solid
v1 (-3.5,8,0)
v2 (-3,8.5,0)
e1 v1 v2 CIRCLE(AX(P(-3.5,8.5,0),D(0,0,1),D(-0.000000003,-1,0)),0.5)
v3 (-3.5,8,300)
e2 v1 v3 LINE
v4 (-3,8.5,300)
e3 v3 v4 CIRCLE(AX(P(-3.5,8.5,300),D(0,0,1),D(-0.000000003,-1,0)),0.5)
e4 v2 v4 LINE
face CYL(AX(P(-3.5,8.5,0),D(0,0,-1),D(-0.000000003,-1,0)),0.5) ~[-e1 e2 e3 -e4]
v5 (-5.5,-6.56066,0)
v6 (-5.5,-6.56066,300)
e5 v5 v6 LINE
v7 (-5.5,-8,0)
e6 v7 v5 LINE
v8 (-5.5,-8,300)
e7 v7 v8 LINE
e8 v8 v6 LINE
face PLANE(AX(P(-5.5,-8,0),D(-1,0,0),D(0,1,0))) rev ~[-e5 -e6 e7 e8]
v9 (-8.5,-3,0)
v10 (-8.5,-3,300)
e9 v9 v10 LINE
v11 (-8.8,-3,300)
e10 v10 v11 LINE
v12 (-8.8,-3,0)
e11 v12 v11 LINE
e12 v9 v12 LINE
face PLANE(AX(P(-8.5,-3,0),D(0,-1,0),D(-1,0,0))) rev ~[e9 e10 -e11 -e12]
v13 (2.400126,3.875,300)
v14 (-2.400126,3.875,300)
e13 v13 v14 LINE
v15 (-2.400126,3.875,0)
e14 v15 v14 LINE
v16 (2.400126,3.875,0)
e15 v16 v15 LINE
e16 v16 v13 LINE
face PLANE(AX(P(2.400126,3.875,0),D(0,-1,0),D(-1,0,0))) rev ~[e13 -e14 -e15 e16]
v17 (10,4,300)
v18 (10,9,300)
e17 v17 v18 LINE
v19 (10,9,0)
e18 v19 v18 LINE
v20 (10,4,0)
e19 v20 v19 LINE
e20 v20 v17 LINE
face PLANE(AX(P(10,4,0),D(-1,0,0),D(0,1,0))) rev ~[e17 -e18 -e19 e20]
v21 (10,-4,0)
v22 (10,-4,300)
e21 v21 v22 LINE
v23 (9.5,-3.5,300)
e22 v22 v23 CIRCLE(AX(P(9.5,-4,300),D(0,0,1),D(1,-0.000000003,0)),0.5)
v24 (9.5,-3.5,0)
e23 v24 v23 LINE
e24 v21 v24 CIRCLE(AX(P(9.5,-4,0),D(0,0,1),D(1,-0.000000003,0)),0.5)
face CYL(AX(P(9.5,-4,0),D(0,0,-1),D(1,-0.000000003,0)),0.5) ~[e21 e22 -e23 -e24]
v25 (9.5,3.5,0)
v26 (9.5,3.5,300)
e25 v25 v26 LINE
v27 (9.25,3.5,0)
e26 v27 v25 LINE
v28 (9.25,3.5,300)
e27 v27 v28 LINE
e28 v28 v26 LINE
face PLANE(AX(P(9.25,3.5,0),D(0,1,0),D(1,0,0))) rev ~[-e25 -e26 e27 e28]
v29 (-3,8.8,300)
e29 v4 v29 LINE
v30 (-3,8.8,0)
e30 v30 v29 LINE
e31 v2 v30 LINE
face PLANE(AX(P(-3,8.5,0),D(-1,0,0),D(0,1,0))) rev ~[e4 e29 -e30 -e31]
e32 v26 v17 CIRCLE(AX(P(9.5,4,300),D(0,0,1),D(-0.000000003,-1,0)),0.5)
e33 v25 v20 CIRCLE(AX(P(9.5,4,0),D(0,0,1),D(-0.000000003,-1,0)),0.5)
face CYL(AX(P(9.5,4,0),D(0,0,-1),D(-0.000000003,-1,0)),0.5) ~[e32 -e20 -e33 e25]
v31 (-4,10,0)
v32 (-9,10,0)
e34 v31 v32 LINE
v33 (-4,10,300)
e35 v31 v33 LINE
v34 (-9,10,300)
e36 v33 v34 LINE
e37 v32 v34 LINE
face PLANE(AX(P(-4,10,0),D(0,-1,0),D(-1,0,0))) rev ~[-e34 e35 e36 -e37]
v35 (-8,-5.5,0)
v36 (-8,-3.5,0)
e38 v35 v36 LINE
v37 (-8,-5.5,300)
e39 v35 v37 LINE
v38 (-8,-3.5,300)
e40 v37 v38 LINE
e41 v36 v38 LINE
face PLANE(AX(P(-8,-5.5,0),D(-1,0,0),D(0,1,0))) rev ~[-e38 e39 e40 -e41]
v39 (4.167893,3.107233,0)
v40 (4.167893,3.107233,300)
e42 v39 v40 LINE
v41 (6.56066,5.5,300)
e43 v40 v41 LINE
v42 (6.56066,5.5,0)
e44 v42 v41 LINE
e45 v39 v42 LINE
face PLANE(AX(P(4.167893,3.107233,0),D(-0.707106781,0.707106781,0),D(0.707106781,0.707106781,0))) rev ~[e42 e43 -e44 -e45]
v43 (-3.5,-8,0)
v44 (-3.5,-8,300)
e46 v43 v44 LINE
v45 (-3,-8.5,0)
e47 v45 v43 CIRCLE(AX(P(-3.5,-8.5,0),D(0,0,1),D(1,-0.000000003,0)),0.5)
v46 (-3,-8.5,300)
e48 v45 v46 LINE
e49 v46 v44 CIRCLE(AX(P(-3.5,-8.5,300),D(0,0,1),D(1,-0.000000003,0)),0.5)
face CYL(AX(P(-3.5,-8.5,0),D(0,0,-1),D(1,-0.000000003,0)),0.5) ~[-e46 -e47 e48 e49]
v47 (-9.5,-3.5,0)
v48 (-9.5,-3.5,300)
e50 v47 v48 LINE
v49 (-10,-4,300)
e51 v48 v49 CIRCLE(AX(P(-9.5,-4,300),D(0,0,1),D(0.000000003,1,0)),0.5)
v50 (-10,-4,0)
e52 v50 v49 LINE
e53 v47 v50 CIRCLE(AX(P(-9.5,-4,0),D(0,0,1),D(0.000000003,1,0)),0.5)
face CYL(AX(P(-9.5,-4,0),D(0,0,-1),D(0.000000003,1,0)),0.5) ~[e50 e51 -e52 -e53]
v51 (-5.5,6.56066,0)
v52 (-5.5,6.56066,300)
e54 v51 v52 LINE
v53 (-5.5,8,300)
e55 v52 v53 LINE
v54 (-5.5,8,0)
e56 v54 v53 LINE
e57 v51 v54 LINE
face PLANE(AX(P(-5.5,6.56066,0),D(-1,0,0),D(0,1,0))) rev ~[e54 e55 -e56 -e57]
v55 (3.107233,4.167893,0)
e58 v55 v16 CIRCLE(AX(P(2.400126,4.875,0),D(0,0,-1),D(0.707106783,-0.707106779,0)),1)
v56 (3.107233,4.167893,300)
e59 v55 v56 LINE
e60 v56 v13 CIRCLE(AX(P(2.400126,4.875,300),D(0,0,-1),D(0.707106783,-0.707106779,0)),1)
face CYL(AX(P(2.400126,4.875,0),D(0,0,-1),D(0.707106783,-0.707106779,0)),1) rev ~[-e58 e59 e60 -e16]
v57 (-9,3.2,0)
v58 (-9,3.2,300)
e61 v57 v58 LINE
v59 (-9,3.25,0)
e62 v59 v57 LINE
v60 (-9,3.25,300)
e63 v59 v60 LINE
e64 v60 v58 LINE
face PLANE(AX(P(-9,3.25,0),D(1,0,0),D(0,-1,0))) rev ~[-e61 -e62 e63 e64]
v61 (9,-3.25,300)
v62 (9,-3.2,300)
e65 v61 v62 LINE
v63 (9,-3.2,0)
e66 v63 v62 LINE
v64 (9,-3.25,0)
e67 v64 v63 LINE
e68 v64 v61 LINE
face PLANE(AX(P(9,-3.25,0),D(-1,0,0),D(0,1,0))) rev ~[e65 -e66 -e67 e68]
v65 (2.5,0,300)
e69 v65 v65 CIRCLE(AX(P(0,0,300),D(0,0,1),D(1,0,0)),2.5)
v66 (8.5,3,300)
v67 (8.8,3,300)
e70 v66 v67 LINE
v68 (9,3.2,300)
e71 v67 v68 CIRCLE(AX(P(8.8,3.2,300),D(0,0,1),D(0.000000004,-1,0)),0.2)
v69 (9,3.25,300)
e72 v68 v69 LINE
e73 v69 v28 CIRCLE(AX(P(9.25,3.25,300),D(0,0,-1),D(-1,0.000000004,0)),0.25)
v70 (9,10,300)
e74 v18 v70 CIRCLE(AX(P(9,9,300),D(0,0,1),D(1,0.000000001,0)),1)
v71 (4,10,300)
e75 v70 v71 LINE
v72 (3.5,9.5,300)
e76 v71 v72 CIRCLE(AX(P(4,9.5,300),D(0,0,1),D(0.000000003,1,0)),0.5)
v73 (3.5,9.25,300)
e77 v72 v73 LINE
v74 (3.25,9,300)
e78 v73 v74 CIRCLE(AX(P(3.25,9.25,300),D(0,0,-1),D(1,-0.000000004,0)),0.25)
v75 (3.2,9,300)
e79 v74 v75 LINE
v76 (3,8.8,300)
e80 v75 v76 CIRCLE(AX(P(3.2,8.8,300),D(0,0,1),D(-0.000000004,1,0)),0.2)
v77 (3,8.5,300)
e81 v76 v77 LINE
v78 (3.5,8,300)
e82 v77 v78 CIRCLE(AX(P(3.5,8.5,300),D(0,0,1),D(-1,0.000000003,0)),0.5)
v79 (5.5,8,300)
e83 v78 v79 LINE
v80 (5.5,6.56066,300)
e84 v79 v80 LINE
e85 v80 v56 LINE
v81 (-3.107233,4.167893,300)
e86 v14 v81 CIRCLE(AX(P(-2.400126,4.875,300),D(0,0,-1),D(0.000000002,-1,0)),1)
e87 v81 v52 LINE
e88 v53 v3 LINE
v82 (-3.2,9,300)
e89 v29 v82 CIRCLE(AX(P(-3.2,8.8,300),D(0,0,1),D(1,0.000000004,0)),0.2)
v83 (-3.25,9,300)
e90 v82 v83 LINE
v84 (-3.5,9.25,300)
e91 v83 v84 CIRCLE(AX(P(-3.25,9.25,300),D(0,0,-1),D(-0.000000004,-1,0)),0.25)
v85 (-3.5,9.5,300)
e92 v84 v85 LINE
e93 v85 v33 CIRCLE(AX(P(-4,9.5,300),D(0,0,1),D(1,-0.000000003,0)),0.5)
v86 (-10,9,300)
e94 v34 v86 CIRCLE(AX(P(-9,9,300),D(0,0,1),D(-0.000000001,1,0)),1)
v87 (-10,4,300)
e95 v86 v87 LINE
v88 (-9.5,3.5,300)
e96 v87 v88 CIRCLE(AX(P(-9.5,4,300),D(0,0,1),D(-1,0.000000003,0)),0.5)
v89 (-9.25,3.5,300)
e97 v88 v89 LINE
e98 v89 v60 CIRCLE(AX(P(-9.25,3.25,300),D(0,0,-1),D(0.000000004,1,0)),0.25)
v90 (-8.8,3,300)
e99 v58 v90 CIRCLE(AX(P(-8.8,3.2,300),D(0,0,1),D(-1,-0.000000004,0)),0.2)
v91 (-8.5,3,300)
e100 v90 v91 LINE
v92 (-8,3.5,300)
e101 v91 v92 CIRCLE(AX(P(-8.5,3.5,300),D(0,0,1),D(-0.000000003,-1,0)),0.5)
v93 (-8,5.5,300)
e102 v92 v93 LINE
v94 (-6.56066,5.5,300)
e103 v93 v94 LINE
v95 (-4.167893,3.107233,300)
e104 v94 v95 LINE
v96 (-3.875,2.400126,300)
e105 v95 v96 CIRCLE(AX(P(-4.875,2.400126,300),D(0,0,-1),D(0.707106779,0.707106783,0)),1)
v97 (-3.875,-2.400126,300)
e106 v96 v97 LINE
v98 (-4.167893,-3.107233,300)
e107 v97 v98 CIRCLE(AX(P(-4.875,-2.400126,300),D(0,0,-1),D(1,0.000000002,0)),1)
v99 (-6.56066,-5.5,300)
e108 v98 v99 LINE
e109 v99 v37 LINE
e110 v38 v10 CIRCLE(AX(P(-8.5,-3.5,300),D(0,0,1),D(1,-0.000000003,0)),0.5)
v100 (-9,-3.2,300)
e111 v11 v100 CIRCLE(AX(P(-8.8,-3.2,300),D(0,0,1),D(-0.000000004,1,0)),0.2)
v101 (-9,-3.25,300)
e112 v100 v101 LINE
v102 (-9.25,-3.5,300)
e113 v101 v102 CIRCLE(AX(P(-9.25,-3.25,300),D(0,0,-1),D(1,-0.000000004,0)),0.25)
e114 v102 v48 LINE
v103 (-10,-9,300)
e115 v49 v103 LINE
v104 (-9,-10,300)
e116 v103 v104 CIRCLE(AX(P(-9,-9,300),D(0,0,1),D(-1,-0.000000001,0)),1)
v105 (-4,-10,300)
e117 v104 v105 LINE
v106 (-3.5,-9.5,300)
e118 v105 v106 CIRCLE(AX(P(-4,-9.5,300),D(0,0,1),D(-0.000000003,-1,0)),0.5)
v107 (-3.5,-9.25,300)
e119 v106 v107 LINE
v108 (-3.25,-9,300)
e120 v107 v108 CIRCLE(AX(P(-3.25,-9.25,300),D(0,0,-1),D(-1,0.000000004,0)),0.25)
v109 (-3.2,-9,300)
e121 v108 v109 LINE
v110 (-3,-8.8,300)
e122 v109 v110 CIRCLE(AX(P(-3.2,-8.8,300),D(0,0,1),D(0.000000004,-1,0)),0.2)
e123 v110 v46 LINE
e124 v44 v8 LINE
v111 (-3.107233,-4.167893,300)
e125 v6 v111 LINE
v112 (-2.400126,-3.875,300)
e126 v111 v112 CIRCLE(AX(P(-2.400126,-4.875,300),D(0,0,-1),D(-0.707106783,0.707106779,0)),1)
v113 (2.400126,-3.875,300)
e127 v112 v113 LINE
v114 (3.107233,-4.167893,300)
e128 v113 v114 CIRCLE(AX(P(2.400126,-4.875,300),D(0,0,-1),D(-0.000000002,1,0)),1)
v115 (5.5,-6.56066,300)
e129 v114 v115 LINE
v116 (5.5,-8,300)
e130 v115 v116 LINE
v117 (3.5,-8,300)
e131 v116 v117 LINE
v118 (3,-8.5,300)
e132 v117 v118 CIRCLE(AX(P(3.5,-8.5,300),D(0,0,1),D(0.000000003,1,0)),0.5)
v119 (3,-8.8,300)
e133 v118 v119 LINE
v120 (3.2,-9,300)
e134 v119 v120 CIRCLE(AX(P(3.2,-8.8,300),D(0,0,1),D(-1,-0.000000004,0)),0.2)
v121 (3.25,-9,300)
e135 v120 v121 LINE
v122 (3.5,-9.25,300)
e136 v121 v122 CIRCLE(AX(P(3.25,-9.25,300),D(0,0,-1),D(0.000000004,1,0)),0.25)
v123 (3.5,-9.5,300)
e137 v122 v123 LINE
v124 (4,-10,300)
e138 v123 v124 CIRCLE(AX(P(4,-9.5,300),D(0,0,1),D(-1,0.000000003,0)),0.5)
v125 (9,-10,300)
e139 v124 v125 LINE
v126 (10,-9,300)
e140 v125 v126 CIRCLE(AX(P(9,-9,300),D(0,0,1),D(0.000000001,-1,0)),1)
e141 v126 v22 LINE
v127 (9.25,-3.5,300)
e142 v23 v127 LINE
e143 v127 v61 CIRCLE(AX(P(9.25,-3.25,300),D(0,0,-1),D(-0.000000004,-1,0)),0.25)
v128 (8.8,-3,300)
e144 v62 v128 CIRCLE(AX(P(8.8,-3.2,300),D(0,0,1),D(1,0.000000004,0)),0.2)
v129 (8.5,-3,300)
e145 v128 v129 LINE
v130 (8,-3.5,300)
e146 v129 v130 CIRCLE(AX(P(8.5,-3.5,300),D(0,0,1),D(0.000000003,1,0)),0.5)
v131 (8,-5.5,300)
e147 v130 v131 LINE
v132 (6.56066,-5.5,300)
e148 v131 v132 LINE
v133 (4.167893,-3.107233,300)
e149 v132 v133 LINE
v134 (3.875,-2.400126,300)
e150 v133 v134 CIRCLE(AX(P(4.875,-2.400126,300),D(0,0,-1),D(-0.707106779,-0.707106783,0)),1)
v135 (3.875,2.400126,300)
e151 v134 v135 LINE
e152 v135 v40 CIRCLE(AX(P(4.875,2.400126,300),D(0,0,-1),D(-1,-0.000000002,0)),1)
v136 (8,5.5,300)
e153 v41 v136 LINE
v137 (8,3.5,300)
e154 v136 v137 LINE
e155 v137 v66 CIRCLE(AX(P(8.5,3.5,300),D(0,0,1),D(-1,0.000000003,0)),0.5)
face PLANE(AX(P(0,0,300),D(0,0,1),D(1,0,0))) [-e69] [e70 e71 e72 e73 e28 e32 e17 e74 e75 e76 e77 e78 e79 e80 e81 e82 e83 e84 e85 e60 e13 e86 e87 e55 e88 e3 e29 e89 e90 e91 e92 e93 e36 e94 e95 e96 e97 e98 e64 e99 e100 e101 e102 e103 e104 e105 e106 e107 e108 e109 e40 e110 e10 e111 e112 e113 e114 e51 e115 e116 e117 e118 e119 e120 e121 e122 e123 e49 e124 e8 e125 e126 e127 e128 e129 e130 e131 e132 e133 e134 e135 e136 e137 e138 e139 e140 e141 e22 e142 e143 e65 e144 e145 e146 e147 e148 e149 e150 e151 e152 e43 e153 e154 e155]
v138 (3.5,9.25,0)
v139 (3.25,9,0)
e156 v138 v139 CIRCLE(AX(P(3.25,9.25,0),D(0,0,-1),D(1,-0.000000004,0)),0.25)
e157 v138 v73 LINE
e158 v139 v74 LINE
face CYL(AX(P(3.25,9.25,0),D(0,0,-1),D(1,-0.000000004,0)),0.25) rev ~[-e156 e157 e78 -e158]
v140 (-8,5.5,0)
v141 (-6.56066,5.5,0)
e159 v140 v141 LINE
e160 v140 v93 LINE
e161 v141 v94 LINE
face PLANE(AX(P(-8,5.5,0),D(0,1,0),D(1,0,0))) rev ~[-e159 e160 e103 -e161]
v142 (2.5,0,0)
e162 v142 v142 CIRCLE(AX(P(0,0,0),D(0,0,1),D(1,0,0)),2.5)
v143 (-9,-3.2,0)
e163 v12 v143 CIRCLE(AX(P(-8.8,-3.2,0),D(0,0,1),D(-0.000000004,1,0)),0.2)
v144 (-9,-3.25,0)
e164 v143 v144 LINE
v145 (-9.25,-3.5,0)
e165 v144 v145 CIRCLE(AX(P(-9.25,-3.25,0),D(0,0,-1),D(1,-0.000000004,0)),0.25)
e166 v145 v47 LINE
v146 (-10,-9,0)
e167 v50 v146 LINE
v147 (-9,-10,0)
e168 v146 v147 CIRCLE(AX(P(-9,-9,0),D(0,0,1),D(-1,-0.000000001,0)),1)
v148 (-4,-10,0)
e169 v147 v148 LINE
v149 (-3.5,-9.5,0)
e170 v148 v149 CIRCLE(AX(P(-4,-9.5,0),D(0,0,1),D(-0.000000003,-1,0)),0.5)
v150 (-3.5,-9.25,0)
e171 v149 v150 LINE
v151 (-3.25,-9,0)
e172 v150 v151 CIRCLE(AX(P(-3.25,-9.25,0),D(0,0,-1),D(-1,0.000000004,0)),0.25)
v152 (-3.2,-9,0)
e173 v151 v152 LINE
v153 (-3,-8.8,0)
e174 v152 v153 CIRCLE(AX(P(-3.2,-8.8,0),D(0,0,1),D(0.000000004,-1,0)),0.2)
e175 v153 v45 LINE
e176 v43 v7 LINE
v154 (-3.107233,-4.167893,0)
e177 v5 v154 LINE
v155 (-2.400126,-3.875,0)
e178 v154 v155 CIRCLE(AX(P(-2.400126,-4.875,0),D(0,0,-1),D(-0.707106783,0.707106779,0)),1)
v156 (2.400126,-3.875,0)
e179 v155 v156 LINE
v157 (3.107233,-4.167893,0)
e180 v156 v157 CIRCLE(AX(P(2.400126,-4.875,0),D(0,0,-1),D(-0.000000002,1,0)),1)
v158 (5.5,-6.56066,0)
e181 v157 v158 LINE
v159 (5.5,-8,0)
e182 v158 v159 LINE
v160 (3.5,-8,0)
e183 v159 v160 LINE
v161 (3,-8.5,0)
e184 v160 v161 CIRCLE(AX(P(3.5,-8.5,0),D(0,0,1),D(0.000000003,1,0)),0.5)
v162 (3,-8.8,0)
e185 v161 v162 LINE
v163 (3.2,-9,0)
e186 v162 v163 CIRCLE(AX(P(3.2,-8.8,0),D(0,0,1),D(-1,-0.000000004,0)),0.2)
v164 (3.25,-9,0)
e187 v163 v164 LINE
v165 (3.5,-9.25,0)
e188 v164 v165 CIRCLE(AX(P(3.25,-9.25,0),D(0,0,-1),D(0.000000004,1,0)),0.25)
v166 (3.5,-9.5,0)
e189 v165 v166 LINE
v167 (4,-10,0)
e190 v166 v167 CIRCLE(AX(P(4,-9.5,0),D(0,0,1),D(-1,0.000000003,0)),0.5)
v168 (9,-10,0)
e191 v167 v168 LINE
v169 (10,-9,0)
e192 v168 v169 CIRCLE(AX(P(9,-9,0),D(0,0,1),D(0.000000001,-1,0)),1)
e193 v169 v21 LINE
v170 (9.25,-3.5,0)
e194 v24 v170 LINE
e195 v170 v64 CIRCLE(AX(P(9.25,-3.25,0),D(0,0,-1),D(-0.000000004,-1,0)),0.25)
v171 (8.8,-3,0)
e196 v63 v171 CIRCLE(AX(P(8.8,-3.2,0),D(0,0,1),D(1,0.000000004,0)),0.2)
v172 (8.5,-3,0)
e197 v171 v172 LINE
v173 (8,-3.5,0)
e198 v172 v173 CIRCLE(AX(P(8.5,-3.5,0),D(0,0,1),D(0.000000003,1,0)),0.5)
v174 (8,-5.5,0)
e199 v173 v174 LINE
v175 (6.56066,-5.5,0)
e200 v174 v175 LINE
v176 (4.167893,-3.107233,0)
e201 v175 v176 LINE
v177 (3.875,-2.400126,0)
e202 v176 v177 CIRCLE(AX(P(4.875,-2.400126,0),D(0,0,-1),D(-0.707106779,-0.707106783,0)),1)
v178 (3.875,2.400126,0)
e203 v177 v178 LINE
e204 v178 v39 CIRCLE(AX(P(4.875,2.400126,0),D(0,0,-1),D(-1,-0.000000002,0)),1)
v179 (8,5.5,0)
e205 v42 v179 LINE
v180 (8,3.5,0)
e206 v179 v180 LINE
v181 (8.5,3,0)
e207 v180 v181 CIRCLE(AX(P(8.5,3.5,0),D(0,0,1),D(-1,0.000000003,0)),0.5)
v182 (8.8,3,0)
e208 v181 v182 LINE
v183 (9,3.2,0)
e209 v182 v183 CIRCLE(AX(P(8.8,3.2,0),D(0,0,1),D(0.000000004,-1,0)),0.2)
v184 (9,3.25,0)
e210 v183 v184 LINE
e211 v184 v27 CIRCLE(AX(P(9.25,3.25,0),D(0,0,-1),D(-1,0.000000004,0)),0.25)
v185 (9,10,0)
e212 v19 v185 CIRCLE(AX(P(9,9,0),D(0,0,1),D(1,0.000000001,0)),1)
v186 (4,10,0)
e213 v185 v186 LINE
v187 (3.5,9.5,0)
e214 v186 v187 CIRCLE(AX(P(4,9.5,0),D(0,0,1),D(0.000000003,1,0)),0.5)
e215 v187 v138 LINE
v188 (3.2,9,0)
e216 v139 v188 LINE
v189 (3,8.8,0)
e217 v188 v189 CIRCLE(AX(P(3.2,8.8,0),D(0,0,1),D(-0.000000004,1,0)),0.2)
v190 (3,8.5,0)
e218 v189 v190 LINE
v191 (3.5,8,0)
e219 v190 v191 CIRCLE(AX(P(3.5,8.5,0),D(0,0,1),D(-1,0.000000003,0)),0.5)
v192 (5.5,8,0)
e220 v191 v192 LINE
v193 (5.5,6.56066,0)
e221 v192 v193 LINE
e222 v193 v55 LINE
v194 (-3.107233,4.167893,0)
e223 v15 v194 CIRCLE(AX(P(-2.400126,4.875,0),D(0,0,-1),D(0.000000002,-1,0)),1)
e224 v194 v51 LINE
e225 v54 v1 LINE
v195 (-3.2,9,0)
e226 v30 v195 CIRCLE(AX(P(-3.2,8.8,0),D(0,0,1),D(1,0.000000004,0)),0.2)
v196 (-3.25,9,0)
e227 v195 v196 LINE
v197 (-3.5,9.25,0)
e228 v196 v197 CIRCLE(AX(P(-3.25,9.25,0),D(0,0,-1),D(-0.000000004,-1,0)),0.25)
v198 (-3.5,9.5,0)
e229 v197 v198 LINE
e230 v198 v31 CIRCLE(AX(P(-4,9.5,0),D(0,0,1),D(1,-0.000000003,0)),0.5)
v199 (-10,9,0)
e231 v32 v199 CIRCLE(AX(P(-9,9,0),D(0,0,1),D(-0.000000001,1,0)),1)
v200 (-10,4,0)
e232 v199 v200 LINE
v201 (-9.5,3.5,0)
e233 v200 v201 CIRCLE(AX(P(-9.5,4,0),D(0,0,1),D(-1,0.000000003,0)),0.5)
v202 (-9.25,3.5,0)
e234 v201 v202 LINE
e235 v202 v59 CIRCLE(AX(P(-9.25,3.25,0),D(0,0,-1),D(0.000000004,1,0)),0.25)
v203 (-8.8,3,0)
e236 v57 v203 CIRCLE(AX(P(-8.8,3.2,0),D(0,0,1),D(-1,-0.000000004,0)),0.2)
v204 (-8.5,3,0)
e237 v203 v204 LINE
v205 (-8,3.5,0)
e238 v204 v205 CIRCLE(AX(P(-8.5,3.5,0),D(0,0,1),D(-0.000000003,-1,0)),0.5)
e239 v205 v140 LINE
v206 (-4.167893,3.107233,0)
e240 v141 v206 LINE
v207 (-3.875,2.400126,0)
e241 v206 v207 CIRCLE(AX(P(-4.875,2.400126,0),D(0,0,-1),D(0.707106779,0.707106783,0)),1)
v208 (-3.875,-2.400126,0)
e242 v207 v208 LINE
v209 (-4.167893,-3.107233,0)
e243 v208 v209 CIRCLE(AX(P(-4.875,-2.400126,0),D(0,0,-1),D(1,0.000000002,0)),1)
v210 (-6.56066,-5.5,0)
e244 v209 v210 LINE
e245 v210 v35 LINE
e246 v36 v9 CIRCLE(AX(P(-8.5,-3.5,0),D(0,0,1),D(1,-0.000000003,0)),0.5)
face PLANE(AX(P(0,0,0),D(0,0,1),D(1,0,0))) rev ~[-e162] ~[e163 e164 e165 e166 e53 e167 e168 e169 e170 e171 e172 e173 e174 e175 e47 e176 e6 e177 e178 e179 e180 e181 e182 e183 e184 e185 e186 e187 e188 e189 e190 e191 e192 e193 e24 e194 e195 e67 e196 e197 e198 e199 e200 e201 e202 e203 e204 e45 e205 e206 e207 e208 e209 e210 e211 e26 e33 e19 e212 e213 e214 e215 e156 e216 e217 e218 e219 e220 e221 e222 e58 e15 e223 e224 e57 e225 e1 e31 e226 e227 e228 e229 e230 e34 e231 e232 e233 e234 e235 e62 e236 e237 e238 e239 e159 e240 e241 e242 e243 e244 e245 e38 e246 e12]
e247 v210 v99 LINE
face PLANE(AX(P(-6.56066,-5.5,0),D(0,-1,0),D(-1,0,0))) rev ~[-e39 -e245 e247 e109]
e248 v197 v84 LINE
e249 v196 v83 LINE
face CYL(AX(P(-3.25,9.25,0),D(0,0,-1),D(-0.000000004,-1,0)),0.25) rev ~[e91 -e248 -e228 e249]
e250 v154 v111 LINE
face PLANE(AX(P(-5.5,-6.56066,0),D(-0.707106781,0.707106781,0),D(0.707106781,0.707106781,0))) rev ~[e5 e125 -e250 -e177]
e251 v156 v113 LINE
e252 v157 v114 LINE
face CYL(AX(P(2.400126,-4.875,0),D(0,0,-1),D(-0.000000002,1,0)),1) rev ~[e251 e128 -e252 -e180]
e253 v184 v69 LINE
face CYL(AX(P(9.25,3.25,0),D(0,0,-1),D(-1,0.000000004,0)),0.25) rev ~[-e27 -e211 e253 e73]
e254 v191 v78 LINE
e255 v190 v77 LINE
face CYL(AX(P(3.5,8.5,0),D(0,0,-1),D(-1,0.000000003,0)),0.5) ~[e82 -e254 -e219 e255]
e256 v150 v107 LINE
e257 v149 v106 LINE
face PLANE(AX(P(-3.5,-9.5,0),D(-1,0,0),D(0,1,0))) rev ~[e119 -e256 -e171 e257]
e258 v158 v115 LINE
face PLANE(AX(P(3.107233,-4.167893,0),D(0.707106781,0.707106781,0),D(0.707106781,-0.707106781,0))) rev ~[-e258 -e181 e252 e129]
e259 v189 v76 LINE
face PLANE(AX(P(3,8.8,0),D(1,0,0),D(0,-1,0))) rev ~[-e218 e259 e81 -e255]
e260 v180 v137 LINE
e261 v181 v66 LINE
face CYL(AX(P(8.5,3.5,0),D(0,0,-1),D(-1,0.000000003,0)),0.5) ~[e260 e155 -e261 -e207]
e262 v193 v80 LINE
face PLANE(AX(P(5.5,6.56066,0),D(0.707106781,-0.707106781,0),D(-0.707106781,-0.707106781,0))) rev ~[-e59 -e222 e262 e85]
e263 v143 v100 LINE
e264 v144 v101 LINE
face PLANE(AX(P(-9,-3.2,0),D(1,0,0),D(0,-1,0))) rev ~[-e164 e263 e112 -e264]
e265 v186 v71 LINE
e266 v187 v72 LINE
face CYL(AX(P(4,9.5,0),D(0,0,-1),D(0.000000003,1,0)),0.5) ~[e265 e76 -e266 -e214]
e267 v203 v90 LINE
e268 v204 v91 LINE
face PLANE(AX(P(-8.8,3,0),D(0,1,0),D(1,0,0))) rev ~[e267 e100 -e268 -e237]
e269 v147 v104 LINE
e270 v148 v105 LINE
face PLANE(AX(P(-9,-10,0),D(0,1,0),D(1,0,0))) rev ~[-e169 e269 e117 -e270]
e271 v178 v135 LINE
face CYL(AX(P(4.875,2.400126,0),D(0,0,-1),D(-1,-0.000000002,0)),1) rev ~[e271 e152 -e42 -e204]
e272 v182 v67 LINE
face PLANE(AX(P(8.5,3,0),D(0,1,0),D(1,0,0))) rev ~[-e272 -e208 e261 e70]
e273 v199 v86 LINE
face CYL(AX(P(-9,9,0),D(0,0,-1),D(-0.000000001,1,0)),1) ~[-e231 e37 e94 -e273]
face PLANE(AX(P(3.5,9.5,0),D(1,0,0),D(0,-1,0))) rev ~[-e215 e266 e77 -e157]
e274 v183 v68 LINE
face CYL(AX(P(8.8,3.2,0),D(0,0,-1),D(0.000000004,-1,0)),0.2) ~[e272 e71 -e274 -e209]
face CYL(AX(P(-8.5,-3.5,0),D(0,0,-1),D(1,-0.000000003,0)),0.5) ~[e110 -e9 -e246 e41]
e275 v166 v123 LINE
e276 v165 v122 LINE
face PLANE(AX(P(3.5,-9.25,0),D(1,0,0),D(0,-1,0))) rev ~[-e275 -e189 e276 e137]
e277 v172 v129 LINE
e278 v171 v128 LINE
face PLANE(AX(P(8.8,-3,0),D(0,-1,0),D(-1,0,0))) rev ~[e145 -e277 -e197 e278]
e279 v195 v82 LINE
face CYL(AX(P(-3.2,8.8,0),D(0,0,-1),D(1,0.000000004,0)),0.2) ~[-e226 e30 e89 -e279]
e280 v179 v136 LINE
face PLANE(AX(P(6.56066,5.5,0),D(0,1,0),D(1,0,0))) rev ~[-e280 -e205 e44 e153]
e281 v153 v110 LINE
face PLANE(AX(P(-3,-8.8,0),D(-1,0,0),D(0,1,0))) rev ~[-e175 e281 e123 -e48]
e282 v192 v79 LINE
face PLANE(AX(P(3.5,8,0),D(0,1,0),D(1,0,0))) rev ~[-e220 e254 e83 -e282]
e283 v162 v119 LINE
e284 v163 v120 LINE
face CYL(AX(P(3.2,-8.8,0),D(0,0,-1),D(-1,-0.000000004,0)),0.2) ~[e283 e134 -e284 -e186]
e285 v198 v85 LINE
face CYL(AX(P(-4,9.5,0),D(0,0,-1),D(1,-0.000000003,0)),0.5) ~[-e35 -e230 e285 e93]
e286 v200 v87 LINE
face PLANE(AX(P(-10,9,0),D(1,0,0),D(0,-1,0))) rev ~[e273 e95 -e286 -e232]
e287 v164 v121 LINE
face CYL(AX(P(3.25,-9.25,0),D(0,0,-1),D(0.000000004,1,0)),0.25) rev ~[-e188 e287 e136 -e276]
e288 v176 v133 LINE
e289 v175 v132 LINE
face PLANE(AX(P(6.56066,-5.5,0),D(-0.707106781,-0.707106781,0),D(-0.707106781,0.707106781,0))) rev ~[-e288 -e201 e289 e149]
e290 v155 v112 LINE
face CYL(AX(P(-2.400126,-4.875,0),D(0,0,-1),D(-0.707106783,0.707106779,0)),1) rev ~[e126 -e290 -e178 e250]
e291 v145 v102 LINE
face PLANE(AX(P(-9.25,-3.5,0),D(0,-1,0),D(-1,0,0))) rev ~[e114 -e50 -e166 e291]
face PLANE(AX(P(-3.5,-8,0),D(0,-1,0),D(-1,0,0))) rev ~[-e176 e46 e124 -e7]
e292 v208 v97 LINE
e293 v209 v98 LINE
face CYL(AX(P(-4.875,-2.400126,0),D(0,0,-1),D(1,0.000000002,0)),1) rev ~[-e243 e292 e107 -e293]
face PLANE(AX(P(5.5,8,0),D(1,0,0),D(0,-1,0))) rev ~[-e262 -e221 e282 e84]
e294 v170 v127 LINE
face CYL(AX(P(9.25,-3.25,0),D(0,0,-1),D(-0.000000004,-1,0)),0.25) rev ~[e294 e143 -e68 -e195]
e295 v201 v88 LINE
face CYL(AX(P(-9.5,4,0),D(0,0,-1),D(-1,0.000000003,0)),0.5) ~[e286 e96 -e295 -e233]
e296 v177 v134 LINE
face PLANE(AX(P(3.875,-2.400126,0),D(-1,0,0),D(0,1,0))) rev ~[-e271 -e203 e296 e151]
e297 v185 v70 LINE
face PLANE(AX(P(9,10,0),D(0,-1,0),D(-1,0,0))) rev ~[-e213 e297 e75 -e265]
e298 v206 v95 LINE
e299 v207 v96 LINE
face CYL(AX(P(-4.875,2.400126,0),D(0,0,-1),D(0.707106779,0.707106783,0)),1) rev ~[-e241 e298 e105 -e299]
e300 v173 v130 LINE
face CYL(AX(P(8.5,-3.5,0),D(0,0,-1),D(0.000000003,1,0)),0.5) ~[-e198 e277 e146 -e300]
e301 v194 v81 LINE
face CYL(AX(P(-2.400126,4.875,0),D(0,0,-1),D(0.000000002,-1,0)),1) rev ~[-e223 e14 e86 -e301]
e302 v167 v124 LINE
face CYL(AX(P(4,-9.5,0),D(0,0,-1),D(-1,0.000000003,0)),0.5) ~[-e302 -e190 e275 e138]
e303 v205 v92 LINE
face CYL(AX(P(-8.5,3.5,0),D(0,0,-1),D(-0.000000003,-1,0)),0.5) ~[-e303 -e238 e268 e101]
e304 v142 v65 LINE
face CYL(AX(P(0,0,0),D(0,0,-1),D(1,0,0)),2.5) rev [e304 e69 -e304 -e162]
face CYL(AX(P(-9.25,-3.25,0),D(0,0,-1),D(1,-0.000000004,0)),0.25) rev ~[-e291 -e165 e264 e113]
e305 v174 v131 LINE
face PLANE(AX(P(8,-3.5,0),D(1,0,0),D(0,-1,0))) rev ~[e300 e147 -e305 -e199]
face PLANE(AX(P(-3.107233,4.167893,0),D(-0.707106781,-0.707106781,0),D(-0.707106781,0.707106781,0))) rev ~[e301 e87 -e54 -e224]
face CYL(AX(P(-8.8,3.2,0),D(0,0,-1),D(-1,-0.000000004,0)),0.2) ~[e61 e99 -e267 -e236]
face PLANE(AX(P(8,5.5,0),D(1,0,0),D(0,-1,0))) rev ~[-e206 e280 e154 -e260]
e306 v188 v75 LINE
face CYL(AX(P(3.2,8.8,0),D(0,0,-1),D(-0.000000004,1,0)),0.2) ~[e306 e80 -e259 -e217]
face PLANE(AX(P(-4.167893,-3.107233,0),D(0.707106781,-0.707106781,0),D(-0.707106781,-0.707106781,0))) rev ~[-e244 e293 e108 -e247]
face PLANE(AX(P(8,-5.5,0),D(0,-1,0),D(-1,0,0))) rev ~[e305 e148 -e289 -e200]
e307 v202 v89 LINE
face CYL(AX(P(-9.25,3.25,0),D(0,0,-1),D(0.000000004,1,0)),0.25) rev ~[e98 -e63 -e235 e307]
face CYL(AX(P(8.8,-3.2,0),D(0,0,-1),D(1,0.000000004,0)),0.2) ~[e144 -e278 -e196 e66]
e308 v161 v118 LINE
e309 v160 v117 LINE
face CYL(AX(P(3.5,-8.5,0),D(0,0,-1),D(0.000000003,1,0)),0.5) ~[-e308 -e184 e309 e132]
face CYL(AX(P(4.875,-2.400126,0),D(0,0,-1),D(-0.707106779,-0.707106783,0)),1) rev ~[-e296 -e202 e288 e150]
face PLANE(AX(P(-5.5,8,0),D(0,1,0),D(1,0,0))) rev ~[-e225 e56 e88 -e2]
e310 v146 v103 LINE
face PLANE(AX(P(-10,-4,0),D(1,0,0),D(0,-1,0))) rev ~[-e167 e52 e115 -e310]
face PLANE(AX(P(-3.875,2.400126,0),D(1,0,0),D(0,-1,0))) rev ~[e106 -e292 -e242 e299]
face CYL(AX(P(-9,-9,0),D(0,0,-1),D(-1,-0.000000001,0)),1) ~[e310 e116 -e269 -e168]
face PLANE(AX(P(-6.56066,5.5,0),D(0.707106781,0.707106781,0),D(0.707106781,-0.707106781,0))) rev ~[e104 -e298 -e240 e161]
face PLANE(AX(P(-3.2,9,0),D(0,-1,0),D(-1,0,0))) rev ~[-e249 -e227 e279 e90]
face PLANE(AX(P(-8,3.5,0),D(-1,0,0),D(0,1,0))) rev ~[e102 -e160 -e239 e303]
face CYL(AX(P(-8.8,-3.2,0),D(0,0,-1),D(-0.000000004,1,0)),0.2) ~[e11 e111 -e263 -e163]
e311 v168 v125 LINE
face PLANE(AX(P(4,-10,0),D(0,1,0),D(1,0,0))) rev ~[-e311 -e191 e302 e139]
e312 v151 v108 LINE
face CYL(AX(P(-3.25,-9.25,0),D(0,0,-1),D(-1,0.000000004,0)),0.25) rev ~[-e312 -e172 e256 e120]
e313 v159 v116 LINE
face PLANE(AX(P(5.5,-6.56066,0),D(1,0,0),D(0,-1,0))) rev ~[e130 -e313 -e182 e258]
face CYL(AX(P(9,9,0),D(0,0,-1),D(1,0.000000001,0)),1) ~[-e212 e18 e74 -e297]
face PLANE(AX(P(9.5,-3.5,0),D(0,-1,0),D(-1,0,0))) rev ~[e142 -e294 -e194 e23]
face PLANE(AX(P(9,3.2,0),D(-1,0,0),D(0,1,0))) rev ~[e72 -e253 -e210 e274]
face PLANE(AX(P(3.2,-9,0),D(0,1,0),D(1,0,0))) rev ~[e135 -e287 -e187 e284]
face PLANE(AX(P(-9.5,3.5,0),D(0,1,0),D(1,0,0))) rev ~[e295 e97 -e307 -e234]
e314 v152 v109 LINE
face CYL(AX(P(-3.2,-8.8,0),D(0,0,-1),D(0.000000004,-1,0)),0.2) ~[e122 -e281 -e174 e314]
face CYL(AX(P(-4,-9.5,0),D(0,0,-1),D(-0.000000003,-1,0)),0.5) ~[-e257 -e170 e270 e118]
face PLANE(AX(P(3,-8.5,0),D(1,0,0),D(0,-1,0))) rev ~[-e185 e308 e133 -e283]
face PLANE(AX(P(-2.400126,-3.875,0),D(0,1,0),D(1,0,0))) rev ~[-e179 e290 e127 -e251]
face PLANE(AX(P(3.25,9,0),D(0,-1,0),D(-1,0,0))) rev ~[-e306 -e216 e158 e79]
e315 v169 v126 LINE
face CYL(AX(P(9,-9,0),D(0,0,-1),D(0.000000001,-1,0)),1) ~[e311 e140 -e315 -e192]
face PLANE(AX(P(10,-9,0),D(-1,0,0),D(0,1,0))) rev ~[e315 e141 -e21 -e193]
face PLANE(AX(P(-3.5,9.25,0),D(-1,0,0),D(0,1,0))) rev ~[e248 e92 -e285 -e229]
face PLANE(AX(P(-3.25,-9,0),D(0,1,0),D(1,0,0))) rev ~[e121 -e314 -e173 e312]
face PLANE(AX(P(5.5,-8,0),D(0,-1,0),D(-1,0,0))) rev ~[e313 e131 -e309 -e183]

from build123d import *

# Parameters (mm, degrees)
SKETCH2_R           = 2.5
BOSS_EXTRUDE1_DEPTH = 300


with BuildPart() as part:
    # Sketch2 → Boss-Extrude1 (new body)
    with BuildSketch(Plane.XY):
        with BuildLine():
            ThreePointArc((4, 10), (3.646446609, 9.853553391), (3.5, 9.5))
            Line((3.5, 9.5), (3.5, 9.25))
            ThreePointArc((3.5, 9.25), (3.426776695, 9.073223305), (3.25, 9))
            Line((3.25, 9), (3.2, 9))
            ThreePointArc((3.2, 9), (3.058578644, 8.941421356), (3, 8.8))
            Line((3, 8.8), (3, 8.5))
            ThreePointArc((3, 8.5), (3.146446609, 8.146446609), (3.5, 8))
            Line((3.5, 8), (5.5, 8))
            Line((5.5, 8), (5.5, 6.560660172))
            Line((5.5, 6.560660172), (3.107233047, 4.167893219))
            ThreePointArc((3.107233047, 4.167893219), (2.782809698, 3.951120467), (2.400126266, 3.875))
            Line((2.400126266, 3.875), (0, 3.875))
            Line((0, 3.875), (-2.400126266, 3.875))
            ThreePointArc((-2.400126266, 3.875), (-2.782809698, 3.951120467), (-3.107233047, 4.167893219))
            Line((-3.107233047, 4.167893219), (-5.5, 6.560660172))
            Line((-5.5, 6.560660172), (-5.5, 8))
            Line((-5.5, 8), (-3.5, 8))
            ThreePointArc((-3.5, 8), (-3.146446609, 8.146446609), (-3, 8.5))
            Line((-3, 8.5), (-3, 8.8))
            ThreePointArc((-3, 8.8), (-3.058578644, 8.941421356), (-3.2, 9))
            Line((-3.2, 9), (-3.25, 9))
            ThreePointArc((-3.25, 9), (-3.426776695, 9.073223305), (-3.5, 9.25))
            Line((-3.5, 9.25), (-3.5, 9.5))
            ThreePointArc((-3.5, 9.5), (-3.646446609, 9.853553391), (-4, 10))
            Line((-4, 10), (-9, 10))
            ThreePointArc((-9, 10), (-9.707106781, 9.707106781), (-10, 9))
            Line((-10, 9), (-10, 4))
            ThreePointArc((-10, 4), (-9.853553391, 3.646446609), (-9.5, 3.5))
            Line((-9.5, 3.5), (-9.25, 3.5))
            ThreePointArc((-9.25, 3.5), (-9.073223305, 3.426776695), (-9, 3.25))
            Line((-9, 3.25), (-9, 3.2))
            ThreePointArc((-9, 3.2), (-8.941421356, 3.058578644), (-8.8, 3))
            Line((-8.8, 3), (-8.5, 3))
            ThreePointArc((-8.5, 3), (-8.146446609, 3.146446609), (-8, 3.5))
            Line((-8, 3.5), (-8, 5.5))
            Line((-8, 5.5), (-6.560660172, 5.5))
            Line((-6.560660172, 5.5), (-4.167893219, 3.107233047))
            ThreePointArc((-4.167893219, 3.107233047), (-3.951120467, 2.782809698), (-3.875, 2.400126266))
            Line((-3.875, 2.400126266), (-3.875, 0))
            Line((-3.875, 0), (-3.875, -2.400126266))
            ThreePointArc((-3.875, -2.400126266), (-3.951120467, -2.782809698), (-4.167893219, -3.107233047))
            Line((-4.167893219, -3.107233047), (-6.560660172, -5.5))
            Line((-6.560660172, -5.5), (-8, -5.5))
            Line((-8, -5.5), (-8, -3.5))
            ThreePointArc((-8, -3.5), (-8.146446609, -3.146446609), (-8.5, -3))
            Line((-8.5, -3), (-8.8, -3))
            ThreePointArc((-8.8, -3), (-8.941421356, -3.058578644), (-9, -3.2))
            Line((-9, -3.2), (-9, -3.25))
            ThreePointArc((-9, -3.25), (-9.073223305, -3.426776695), (-9.25, -3.5))
            Line((-9.25, -3.5), (-9.5, -3.5))
            ThreePointArc((-9.5, -3.5), (-9.853553391, -3.646446609), (-10, -4))
            Line((-10, -4), (-10, -9))
            ThreePointArc((-10, -9), (-9.707106781, -9.707106781), (-9, -10))
            Line((-9, -10), (-4, -10))
            ThreePointArc((-4, -10), (-3.646446609, -9.853553391), (-3.5, -9.5))
            Line((-3.5, -9.5), (-3.5, -9.25))
            ThreePointArc((-3.5, -9.25), (-3.426776695, -9.073223305), (-3.25, -9))
            Line((-3.25, -9), (-3.2, -9))
            ThreePointArc((-3.2, -9), (-3.058578644, -8.941421356), (-3, -8.8))
            Line((-3, -8.8), (-3, -8.5))
            ThreePointArc((-3, -8.5), (-3.146446609, -8.146446609), (-3.5, -8))
            Line((-3.5, -8), (-5.5, -8))
            Line((-5.5, -8), (-5.5, -6.560660172))
            Line((-5.5, -6.560660172), (-3.107233047, -4.167893219))
            ThreePointArc((-3.107233047, -4.167893219), (-2.782809698, -3.951120467), (-2.400126266, -3.875))
            Line((-2.400126266, -3.875), (0, -3.875))
            Line((0, -3.875), (2.400126266, -3.875))
            ThreePointArc((2.400126266, -3.875), (2.782809698, -3.951120467), (3.107233047, -4.167893219))
            Line((3.107233047, -4.167893219), (5.5, -6.560660172))
            Line((5.5, -6.560660172), (5.5, -8))
            Line((5.5, -8), (3.5, -8))
            ThreePointArc((3.5, -8), (3.146446609, -8.146446609), (3, -8.5))
            Line((3, -8.5), (3, -8.8))
            ThreePointArc((3, -8.8), (3.058578644, -8.941421356), (3.2, -9))
            Line((3.2, -9), (3.25, -9))
            ThreePointArc((3.25, -9), (3.426776695, -9.073223305), (3.5, -9.25))
            Line((3.5, -9.25), (3.5, -9.5))
            ThreePointArc((3.5, -9.5), (3.646446609, -9.853553391), (4, -10))
            Line((4, -10), (9, -10))
            ThreePointArc((9, -10), (9.707106781, -9.707106781), (10, -9))
            Line((10, -9), (10, -4))
            ThreePointArc((10, -4), (9.853553391, -3.646446609), (9.5, -3.5))
            Line((9.5, -3.5), (9.25, -3.5))
            ThreePointArc((9.25, -3.5), (9.073223305, -3.426776695), (9, -3.25))
            Line((9, -3.25), (9, -3.2))
            ThreePointArc((9, -3.2), (8.941421356, -3.058578644), (8.8, -3))
            Line((8.8, -3), (8.5, -3))
            ThreePointArc((8.5, -3), (8.146446609, -3.146446609), (8, -3.5))
            Line((8, -3.5), (8, -5.5))
            Line((8, -5.5), (6.560660172, -5.5))
            Line((6.560660172, -5.5), (4.167893219, -3.107233047))
            ThreePointArc((4.167893219, -3.107233047), (3.951120467, -2.782809698), (3.875, -2.400126266))
            Line((3.875, -2.400126266), (3.875, 0))
            Line((3.875, 0), (3.875, 2.400126266))
            ThreePointArc((3.875, 2.400126266), (3.951120467, 2.782809698), (4.167893219, 3.107233047))
            Line((4.167893219, 3.107233047), (6.560660172, 5.5))
            Line((6.560660172, 5.5), (8, 5.5))
            Line((8, 5.5), (8, 3.5))
            ThreePointArc((8, 3.5), (8.146446609, 3.146446609), (8.5, 3))
            Line((8.5, 3), (8.8, 3))
            ThreePointArc((8.8, 3), (8.941421356, 3.058578644), (9, 3.2))
            Line((9, 3.2), (9, 3.25))
            ThreePointArc((9, 3.25), (9.073223305, 3.426776695), (9.25, 3.5))
            Line((9.25, 3.5), (9.5, 3.5))
            ThreePointArc((9.5, 3.5), (9.853553391, 3.646446609), (10, 4))
            Line((10, 4), (10, 9))
            ThreePointArc((10, 9), (9.707106781, 9.707106781), (9, 10))
            Line((9, 10), (4, 10))
        make_face()
        Circle(SKETCH2_R, mode=Mode.SUBTRACT)
    extrude(amount=BOSS_EXTRUDE1_DEPTH)


solid = part.part
